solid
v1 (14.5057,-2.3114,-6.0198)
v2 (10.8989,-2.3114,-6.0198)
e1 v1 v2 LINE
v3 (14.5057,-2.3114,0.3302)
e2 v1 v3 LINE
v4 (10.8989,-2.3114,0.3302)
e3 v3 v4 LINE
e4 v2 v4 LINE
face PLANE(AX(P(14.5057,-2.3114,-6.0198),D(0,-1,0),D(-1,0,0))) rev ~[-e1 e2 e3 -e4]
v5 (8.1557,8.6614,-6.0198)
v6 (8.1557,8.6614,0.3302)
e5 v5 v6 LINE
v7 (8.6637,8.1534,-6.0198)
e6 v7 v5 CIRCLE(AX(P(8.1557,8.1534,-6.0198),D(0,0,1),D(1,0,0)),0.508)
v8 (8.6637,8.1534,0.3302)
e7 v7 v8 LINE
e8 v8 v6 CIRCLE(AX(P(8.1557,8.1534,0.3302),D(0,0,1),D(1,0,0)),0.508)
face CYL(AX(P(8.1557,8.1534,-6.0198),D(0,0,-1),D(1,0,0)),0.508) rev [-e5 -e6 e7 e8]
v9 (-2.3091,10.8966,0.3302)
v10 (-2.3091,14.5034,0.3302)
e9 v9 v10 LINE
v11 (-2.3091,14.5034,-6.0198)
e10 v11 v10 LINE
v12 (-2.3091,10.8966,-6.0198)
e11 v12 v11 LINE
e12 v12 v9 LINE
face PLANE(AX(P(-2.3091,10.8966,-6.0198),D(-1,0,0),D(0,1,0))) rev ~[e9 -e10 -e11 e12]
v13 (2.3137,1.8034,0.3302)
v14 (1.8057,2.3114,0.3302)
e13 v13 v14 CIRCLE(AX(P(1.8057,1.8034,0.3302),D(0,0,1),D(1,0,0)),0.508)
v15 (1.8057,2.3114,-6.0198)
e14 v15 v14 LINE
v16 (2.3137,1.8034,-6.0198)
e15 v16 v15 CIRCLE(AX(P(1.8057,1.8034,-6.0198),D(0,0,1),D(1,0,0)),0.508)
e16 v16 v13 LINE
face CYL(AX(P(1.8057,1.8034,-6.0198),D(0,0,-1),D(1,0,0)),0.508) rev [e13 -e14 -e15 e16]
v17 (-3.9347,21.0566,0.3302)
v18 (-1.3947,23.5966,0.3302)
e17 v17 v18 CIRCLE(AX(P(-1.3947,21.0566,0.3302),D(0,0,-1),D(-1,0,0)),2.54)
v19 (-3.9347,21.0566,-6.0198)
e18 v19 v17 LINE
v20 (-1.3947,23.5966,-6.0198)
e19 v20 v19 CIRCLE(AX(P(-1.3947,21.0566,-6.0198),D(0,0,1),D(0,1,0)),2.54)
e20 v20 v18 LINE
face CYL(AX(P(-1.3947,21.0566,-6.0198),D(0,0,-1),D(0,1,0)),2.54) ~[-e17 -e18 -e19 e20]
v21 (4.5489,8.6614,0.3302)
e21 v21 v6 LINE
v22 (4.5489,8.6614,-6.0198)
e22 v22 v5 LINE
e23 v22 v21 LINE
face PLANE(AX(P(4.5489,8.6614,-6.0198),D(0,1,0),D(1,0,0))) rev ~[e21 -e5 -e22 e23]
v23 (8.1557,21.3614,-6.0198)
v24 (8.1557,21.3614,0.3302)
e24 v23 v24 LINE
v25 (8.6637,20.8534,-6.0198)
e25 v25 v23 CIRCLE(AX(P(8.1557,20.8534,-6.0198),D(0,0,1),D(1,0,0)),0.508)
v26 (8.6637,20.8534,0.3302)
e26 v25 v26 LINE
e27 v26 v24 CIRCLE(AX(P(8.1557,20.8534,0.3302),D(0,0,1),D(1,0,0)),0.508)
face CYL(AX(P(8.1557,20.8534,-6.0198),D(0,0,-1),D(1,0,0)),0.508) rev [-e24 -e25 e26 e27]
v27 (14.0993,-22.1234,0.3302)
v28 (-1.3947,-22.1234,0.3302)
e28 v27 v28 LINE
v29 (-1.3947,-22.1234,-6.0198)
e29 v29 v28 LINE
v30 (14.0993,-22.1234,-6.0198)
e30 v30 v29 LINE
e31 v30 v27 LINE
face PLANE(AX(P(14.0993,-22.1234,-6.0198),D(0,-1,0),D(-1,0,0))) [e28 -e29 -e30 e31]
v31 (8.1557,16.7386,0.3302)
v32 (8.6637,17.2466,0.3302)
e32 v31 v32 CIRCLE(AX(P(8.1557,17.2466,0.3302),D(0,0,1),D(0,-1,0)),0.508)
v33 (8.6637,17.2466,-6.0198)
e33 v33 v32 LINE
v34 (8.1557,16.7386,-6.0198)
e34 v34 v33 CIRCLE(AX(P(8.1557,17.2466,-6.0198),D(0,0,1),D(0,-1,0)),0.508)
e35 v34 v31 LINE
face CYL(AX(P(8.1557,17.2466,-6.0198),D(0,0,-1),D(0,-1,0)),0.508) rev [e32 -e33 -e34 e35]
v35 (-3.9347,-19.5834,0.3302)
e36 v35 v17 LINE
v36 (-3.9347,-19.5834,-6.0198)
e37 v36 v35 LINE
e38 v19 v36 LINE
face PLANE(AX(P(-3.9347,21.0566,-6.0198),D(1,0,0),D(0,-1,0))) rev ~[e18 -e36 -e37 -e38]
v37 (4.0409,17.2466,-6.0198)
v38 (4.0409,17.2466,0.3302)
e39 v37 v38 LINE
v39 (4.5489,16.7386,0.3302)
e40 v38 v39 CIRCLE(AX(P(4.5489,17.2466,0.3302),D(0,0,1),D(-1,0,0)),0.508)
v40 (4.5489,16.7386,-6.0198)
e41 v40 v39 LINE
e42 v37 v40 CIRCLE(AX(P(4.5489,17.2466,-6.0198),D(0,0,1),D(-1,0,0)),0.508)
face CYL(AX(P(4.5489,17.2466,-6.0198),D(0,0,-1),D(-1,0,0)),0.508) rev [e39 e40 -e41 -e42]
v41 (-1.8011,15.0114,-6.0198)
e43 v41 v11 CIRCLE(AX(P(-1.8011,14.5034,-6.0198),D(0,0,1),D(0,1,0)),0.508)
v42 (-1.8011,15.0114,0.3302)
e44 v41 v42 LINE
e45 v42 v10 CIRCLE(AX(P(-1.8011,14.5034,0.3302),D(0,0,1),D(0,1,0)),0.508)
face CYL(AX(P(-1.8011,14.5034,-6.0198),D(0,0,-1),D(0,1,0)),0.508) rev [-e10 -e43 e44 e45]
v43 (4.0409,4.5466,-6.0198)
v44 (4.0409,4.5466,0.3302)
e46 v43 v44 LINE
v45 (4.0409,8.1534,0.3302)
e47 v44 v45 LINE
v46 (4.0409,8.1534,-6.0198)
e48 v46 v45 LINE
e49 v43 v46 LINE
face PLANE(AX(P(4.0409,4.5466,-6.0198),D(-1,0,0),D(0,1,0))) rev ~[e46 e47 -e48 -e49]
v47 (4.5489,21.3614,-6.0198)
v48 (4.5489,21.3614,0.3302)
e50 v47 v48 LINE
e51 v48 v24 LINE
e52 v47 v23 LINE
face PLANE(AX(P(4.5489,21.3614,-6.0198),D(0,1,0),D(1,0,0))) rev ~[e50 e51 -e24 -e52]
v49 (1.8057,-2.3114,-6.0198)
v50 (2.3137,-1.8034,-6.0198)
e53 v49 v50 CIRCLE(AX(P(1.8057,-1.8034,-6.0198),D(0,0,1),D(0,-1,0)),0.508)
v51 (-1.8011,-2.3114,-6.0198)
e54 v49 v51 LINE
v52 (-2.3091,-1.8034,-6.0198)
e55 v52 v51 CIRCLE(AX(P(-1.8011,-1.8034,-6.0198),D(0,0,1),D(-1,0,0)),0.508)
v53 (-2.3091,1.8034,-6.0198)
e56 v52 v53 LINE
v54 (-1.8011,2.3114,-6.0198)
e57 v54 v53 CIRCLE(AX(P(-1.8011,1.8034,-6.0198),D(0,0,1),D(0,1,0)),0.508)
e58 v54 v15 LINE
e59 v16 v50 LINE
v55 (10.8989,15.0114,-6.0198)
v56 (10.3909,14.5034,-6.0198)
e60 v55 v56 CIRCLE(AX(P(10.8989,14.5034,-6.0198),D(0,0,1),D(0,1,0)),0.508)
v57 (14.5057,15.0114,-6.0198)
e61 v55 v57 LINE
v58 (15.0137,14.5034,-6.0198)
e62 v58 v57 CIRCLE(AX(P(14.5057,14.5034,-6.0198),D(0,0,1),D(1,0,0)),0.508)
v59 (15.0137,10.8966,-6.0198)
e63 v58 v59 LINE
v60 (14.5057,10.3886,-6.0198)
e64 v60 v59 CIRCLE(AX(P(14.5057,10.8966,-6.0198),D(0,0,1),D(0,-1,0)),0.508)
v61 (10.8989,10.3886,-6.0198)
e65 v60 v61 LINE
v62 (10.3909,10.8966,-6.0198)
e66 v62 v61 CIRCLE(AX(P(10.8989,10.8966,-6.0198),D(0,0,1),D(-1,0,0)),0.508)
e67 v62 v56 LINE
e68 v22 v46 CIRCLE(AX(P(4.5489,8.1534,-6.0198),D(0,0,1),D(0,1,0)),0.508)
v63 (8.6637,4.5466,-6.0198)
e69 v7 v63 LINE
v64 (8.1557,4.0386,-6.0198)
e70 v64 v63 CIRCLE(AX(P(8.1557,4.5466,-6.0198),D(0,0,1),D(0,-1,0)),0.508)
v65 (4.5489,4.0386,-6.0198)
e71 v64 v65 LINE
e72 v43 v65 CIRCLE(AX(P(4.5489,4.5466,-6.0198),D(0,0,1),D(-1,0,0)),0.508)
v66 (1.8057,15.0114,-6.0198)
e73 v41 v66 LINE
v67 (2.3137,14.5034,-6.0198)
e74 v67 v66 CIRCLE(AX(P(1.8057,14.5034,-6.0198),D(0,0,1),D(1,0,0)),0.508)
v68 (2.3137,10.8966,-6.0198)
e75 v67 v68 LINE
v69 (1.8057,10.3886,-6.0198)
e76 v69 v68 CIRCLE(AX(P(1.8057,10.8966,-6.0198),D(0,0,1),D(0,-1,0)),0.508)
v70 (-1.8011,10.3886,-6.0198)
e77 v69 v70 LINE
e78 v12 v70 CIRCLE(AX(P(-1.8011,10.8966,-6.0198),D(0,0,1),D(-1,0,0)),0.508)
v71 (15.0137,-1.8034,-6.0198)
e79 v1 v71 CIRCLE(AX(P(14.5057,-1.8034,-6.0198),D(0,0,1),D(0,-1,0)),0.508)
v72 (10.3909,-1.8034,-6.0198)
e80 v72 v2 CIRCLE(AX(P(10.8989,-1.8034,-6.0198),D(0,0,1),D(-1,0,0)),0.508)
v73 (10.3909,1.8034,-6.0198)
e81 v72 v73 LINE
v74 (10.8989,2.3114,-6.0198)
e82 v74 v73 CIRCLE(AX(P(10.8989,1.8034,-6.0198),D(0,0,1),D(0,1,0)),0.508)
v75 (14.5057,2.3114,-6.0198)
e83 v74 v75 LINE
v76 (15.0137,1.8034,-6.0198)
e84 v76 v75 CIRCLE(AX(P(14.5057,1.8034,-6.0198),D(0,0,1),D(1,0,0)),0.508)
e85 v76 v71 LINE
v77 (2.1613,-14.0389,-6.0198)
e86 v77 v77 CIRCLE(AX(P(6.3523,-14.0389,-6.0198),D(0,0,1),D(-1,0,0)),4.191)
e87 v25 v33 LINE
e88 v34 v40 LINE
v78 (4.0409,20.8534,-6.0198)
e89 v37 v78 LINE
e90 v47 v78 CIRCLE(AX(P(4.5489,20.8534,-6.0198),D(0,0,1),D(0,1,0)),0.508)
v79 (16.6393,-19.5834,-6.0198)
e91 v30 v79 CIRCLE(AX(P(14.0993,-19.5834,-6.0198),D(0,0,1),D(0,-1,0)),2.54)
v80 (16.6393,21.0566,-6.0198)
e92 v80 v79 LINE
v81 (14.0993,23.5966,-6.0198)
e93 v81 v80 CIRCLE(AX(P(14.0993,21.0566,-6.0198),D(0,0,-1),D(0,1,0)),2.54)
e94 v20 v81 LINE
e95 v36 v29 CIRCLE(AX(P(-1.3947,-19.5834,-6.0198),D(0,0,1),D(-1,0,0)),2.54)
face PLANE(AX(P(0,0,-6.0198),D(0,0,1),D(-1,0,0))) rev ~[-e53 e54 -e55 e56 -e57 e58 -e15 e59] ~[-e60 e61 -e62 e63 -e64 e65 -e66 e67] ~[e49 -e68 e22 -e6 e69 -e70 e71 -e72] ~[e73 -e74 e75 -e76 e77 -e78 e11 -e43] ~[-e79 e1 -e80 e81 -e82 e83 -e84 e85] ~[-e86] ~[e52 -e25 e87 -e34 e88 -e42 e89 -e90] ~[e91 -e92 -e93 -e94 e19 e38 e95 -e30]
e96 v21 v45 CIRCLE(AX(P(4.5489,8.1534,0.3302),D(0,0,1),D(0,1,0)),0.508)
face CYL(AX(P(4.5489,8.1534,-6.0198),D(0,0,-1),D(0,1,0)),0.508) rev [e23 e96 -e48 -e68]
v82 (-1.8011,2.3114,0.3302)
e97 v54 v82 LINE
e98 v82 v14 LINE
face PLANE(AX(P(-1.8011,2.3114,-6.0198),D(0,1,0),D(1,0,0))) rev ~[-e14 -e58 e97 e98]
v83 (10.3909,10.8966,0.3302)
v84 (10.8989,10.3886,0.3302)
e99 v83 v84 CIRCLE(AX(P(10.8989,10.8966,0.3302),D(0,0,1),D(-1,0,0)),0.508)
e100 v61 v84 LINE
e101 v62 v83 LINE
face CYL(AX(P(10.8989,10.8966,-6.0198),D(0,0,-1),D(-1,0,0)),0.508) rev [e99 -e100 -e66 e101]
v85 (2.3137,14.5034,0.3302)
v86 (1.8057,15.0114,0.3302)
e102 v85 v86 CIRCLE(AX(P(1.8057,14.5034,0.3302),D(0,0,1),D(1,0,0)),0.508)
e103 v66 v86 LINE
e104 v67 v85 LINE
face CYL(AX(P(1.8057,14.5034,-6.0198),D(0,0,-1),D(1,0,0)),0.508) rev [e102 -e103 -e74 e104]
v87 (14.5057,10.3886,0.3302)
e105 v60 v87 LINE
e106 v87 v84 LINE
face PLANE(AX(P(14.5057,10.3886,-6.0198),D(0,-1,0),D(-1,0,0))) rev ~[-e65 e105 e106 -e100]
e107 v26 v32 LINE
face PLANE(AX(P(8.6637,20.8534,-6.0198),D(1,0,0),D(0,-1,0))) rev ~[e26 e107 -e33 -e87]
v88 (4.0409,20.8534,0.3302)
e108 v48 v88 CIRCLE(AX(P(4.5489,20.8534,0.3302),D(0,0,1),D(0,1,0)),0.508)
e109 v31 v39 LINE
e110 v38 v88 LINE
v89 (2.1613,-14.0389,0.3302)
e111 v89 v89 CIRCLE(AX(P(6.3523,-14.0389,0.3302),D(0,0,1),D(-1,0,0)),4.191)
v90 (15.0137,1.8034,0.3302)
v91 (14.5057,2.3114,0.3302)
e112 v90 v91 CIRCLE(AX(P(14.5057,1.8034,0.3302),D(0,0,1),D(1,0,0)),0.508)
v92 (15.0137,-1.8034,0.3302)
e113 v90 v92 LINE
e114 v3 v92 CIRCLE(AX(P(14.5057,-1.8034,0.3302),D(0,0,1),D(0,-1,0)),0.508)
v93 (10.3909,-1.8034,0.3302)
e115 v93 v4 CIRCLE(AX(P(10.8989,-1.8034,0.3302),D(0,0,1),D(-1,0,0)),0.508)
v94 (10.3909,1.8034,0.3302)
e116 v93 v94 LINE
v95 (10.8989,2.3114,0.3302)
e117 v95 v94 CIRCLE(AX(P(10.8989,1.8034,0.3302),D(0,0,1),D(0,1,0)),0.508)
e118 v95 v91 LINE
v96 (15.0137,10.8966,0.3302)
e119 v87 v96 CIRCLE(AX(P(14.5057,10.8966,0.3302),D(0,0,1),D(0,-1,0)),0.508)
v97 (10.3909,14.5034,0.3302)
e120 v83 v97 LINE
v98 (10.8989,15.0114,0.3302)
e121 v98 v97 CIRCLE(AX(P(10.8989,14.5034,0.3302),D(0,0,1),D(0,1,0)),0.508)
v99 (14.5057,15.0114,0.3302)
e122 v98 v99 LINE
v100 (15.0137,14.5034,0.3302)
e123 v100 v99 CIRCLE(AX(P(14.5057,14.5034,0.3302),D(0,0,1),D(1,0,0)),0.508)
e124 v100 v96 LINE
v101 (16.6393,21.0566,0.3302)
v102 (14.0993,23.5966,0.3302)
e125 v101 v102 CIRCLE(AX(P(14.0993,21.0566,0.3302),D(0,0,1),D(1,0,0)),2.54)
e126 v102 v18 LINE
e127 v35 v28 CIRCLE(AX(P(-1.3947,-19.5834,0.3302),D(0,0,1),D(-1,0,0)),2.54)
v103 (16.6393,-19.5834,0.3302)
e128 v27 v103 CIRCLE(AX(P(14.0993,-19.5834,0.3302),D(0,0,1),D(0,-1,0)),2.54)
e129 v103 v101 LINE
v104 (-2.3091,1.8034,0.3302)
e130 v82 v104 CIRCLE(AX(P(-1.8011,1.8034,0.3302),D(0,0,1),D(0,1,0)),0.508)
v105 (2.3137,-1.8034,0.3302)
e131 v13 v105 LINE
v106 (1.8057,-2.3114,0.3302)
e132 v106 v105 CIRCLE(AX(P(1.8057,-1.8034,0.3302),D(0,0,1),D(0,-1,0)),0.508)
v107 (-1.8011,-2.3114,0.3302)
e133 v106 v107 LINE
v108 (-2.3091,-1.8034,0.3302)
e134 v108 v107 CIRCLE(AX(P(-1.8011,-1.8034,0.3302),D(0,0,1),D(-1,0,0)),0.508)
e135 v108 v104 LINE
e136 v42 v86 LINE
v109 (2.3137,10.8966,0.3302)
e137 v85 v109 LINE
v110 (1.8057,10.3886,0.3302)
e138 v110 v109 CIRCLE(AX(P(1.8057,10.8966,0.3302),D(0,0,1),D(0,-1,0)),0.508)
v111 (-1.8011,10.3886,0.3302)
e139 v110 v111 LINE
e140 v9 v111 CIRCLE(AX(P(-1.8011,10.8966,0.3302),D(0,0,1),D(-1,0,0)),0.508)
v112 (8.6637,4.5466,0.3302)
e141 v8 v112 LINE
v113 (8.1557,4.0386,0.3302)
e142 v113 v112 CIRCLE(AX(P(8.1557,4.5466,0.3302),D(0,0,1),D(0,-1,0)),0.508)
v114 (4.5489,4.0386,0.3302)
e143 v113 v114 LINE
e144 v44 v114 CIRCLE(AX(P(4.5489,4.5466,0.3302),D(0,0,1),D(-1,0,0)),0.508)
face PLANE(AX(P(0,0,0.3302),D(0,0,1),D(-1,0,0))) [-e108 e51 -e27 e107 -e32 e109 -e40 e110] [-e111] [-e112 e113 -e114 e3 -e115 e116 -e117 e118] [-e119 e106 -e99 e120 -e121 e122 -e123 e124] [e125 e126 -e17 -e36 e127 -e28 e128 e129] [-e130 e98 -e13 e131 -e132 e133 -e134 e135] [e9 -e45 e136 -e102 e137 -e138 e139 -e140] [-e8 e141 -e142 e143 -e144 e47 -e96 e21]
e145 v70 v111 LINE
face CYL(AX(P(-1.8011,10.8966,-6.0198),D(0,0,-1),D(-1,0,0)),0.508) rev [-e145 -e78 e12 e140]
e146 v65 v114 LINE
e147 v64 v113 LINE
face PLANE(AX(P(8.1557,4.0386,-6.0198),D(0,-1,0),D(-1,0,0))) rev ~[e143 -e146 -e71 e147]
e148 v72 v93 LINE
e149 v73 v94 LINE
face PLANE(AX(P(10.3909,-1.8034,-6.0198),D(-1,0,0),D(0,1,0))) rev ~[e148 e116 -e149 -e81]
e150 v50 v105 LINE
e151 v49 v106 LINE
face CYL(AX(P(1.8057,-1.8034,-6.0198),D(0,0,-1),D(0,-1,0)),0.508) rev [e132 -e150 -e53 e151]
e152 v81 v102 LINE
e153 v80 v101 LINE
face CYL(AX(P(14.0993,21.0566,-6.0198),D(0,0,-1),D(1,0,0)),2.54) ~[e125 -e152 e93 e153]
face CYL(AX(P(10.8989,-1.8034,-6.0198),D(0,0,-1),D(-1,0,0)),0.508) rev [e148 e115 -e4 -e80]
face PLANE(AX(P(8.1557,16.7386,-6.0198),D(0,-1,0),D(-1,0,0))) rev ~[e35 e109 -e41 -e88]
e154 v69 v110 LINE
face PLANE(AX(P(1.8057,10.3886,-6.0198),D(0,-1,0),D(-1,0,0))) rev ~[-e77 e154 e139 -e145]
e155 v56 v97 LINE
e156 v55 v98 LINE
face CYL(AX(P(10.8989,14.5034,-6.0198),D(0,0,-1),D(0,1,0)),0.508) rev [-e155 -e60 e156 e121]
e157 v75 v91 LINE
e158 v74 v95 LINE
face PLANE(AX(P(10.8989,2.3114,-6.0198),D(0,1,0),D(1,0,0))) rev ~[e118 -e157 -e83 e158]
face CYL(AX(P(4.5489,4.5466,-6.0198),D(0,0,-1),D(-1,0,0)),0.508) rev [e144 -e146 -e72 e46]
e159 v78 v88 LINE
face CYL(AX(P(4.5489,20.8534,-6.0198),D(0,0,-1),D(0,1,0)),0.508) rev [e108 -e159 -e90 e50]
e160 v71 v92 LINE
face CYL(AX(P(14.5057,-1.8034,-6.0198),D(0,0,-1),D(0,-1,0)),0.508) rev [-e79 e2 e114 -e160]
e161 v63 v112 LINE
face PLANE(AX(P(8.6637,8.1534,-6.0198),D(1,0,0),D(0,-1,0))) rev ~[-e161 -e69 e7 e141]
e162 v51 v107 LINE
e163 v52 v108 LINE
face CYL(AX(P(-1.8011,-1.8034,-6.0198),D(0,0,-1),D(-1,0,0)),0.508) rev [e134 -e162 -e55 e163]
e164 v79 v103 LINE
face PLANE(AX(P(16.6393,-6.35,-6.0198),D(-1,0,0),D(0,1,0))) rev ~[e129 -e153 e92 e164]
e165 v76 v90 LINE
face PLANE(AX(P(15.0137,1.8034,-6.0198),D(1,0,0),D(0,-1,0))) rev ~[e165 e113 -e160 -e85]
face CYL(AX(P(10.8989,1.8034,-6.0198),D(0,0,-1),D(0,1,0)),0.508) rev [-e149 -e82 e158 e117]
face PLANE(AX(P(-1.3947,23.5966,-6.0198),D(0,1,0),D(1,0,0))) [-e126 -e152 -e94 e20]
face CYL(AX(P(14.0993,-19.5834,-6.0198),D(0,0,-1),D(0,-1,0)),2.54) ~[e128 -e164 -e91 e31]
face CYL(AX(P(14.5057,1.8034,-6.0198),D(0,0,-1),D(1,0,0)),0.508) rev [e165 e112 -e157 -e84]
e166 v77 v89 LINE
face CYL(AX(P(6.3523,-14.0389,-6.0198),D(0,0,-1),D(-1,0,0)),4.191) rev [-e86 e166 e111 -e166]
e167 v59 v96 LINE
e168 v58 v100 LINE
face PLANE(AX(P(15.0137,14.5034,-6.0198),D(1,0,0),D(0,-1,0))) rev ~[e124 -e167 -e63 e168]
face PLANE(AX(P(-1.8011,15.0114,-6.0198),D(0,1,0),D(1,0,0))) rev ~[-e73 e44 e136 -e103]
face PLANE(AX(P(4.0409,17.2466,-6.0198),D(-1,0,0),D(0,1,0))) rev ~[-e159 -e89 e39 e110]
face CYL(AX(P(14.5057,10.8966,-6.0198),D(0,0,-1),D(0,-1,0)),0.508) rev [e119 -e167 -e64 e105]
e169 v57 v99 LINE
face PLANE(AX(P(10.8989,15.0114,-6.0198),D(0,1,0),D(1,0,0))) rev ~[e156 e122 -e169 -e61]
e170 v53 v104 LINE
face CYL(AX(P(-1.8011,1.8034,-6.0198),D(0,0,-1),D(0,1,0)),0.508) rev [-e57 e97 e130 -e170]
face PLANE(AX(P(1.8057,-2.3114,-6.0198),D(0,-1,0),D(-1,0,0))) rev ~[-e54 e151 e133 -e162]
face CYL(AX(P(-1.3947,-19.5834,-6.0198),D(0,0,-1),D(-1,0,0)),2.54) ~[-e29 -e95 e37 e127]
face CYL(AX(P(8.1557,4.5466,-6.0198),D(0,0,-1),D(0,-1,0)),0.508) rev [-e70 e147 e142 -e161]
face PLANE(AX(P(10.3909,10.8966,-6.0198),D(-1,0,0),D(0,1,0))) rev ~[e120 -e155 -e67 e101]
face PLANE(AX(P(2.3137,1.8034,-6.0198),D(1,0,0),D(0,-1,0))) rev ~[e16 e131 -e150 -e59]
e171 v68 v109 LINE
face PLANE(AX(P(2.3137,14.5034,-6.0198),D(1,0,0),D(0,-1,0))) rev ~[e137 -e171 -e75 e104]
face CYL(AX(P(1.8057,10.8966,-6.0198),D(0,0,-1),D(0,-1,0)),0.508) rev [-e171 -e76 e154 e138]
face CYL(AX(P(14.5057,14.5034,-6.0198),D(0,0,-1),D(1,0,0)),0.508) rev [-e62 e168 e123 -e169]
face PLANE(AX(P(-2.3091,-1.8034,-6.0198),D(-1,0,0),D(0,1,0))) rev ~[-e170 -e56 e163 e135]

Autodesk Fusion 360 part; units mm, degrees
sketch "Sketch1" plane through (0, 0, -6.0198) normal (0, 0, 1) x (-1, 0, 0)
  line L0 (-4.0409, -44.45) -> (3.9347, -44.45)
  line L1 (3.9347, -44.45) -> (3.9347, 6.35)
  line L2 (3.9347, 6.35) -> (-16.6393, 6.35)
  line L3 (-16.6393, 6.35) -> (-16.6393, -44.45)
  line L4 (-16.6393, -44.45) -> (-8.6637, -44.45)
  line L5 (-8.6637, -44.45) -> (-8.6637, -42.6466)
  arc A0 (-8.1557, -42.1386) -> (-8.6637, -42.6466) centre (-8.1557, -42.6466) ccw
  line L6 (-8.1557, -42.1386) -> (-4.5489, -42.1386)
  arc A1 (-4.0409, -42.6466) -> (-4.5489, -42.1386) centre (-4.5489, -42.6466) ccw
  line L7 (-4.0409, -42.6466) -> (-4.0409, -44.45)
  arc A2 (-8.1557, -29.4386) -> (-8.6637, -29.9466) centre (-8.1557, -29.9466) ccw
  line L8 (-8.1557, -29.4386) -> (-4.5489, -29.4386)
  arc A3 (-4.0409, -29.9466) -> (-4.5489, -29.4386) centre (-4.5489, -29.9466) ccw
  line L9 (-4.0409, -29.9466) -> (-4.0409, -33.5534)
  arc A4 (-4.5489, -34.0614) -> (-4.0409, -33.5534) centre (-4.5489, -33.5534) ccw
  line L10 (-4.5489, -34.0614) -> (-8.1557, -34.0614)
  arc A5 (-8.6637, -33.5534) -> (-8.1557, -34.0614) centre (-8.1557, -33.5534) ccw
  line L11 (-8.6637, -33.5534) -> (-8.6637, -29.9466)
  arc A6 (1.8011, -40.4114) -> (2.3091, -39.9034) centre (1.8011, -39.9034) ccw
  line L12 (1.8011, -40.4114) -> (-1.8057, -40.4114)
  arc A7 (-2.3137, -39.9034) -> (-1.8057, -40.4114) centre (-1.8057, -39.9034) ccw
  line L13 (-2.3137, -39.9034) -> (-2.3137, -36.2966)
  arc A8 (-1.8057, -35.7886) -> (-2.3137, -36.2966) centre (-1.8057, -36.2966) ccw
  line L14 (-1.8057, -35.7886) -> (1.8011, -35.7886)
  arc A9 (2.3091, -36.2966) -> (1.8011, -35.7886) centre (1.8011, -36.2966) ccw
  line L15 (2.3091, -36.2966) -> (2.3091, -39.9034)
  arc A10 (1.8011, -27.7114) -> (2.3091, -27.2034) centre (1.8011, -27.2034) ccw
  line L16 (1.8011, -27.7114) -> (-1.8057, -27.7114)
  arc A11 (-2.3137, -27.2034) -> (-1.8057, -27.7114) centre (-1.8057, -27.2034) ccw
  line L17 (-2.3137, -27.2034) -> (-2.3137, -23.5966)
  arc A12 (-1.8057, -23.0886) -> (-2.3137, -23.5966) centre (-1.8057, -23.5966) ccw
  line L18 (-1.8057, -23.0886) -> (1.8011, -23.0886)
  arc A13 (2.3091, -23.5966) -> (1.8011, -23.0886) centre (1.8011, -23.5966) ccw
  line L19 (2.3091, -23.5966) -> (2.3091, -27.2034)
  arc A14 (1.8011, -15.0114) -> (2.3091, -14.5034) centre (1.8011, -14.5034) ccw
  line L20 (1.8011, -15.0114) -> (-1.8057, -15.0114)
  arc A15 (-2.3137, -14.5034) -> (-1.8057, -15.0114) centre (-1.8057, -14.5034) ccw
  line L21 (-2.3137, -14.5034) -> (-2.3137, -10.8966)
  arc A16 (-1.8057, -10.3886) -> (-2.3137, -10.8966) centre (-1.8057, -10.8966) ccw
  line L22 (-1.8057, -10.3886) -> (1.8011, -10.3886)
  arc A17 (2.3091, -10.8966) -> (1.8011, -10.3886) centre (1.8011, -10.8966) ccw
  line L23 (2.3091, -10.8966) -> (2.3091, -14.5034)
  arc A18 (1.8011, -2.3114) -> (2.3091, -1.8034) centre (1.8011, -1.8034) ccw
  line L24 (1.8011, -2.3114) -> (-1.8057, -2.3114)
  arc A19 (-2.3137, -1.8034) -> (-1.8057, -2.3114) centre (-1.8057, -1.8034) ccw
  line L25 (-2.3137, -1.8034) -> (-2.3137, 1.8034)
  arc A20 (-1.8057, 2.3114) -> (-2.3137, 1.8034) centre (-1.8057, 1.8034) ccw
  line L26 (-1.8057, 2.3114) -> (1.8011, 2.3114)
  arc A21 (2.3091, 1.8034) -> (1.8011, 2.3114) centre (1.8011, 1.8034) ccw
  line L27 (2.3091, 1.8034) -> (2.3091, -1.8034)
  arc A22 (-10.8989, -40.4114) -> (-10.3909, -39.9034) centre (-10.8989, -39.9034) ccw
  line L28 (-10.8989, -40.4114) -> (-14.5057, -40.4114)
  arc A23 (-15.0137, -39.9034) -> (-14.5057, -40.4114) centre (-14.5057, -39.9034) ccw
  line L29 (-15.0137, -39.9034) -> (-15.0137, -36.2966)
  arc A24 (-14.5057, -35.7886) -> (-15.0137, -36.2966) centre (-14.5057, -36.2966) ccw
  line L30 (-14.5057, -35.7886) -> (-10.8989, -35.7886)
  arc A25 (-10.3909, -36.2966) -> (-10.8989, -35.7886) centre (-10.8989, -36.2966) ccw
  line L31 (-10.3909, -36.2966) -> (-10.3909, -39.9034)
  arc A26 (-10.8989, -27.7114) -> (-10.3909, -27.2034) centre (-10.8989, -27.2034) ccw
  line L32 (-10.8989, -27.7114) -> (-14.5057, -27.7114)
  arc A27 (-15.0137, -27.2034) -> (-14.5057, -27.7114) centre (-14.5057, -27.2034) ccw
  line L33 (-15.0137, -27.2034) -> (-15.0137, -23.5966)
  arc A28 (-14.5057, -23.0886) -> (-15.0137, -23.5966) centre (-14.5057, -23.5966) ccw
  line L34 (-14.5057, -23.0886) -> (-10.8989, -23.0886)
  arc A29 (-10.3909, -23.5966) -> (-10.8989, -23.0886) centre (-10.8989, -23.5966) ccw
  line L35 (-10.3909, -23.5966) -> (-10.3909, -27.2034)
  arc A30 (-10.8989, -15.0114) -> (-10.3909, -14.5034) centre (-10.8989, -14.5034) ccw
  line L36 (-10.8989, -15.0114) -> (-14.5057, -15.0114)
  arc A31 (-15.0137, -14.5034) -> (-14.5057, -15.0114) centre (-14.5057, -14.5034) ccw
  line L37 (-15.0137, -14.5034) -> (-15.0137, -10.8966)
  arc A32 (-14.5057, -10.3886) -> (-15.0137, -10.8966) centre (-14.5057, -10.8966) ccw
  line L38 (-14.5057, -10.3886) -> (-10.8989, -10.3886)
  arc A33 (-10.3909, -10.8966) -> (-10.8989, -10.3886) centre (-10.8989, -10.8966) ccw
  line L39 (-10.3909, -10.8966) -> (-10.3909, -14.5034)
  arc A34 (-10.8989, -2.3114) -> (-10.3909, -1.8034) centre (-10.8989, -1.8034) ccw
  line L40 (-10.8989, -2.3114) -> (-14.5057, -2.3114)
  arc A35 (-15.0137, -1.8034) -> (-14.5057, -2.3114) centre (-14.5057, -1.8034) ccw
  line L41 (-15.0137, -1.8034) -> (-15.0137, 1.8034)
  arc A36 (-14.5057, 2.3114) -> (-15.0137, 1.8034) centre (-14.5057, 1.8034) ccw
  line L42 (-14.5057, 2.3114) -> (-10.8989, 2.3114)
  arc A37 (-10.3909, 1.8034) -> (-10.8989, 2.3114) centre (-10.8989, 1.8034) ccw
  line L43 (-10.3909, 1.8034) -> (-10.3909, -1.8034)
  arc A38 (-8.6637, -8.1534) -> (-8.1557, -8.6614) centre (-8.1557, -8.1534) ccw
  line L44 (-8.6637, -8.1534) -> (-8.6637, -4.5466)
  arc A39 (-8.1557, -4.0386) -> (-8.6637, -4.5466) centre (-8.1557, -4.5466) ccw
  line L45 (-8.1557, -4.0386) -> (-4.5489, -4.0386)
  arc A40 (-4.0409, -4.5466) -> (-4.5489, -4.0386) centre (-4.5489, -4.5466) ccw
  line L46 (-4.0409, -4.5466) -> (-4.0409, -8.1534)
  arc A41 (-4.5489, -8.6614) -> (-4.0409, -8.1534) centre (-4.5489, -8.1534) ccw
  line L47 (-4.5489, -8.6614) -> (-8.1557, -8.6614)
  arc A42 (-8.1557, -16.7386) -> (-8.6637, -17.2466) centre (-8.1557, -17.2466) ccw
  line L48 (-8.1557, -16.7386) -> (-4.5489, -16.7386)
  arc A43 (-4.0409, -17.2466) -> (-4.5489, -16.7386) centre (-4.5489, -17.2466) ccw
  line L49 (-4.0409, -17.2466) -> (-4.0409, -20.8534)
  arc A44 (-4.5489, -21.3614) -> (-4.0409, -20.8534) centre (-4.5489, -20.8534) ccw
  line L50 (-4.5489, -21.3614) -> (-8.1557, -21.3614)
  arc A45 (-8.6637, -20.8534) -> (-8.1557, -21.3614) centre (-8.1557, -20.8534) ccw
  line L51 (-8.6637, -20.8534) -> (-8.6637, -17.2466)
  line L52 (1.3947, -23.5966) -> (-14.0993, -23.5966)
  line L53 (-16.6393, -21.0566) -> (-16.6393, 19.5834)
  line L54 (-14.0993, 22.1234) -> (1.3947, 22.1234)
  line L55 (3.9347, 19.5834) -> (3.9347, -21.0566)
  arc A46 (1.3947, -23.5966) -> (3.9347, -21.0566) centre (1.3947, -21.0566) ccw
  arc A47 (-16.6393, -21.0566) -> (-14.0993, -23.5966) centre (-14.0993, -21.0566) ccw
  arc A48 (-14.0993, 22.1234) -> (-16.6393, 19.5834) centre (-14.0993, 19.5834) ccw
  arc A49 (3.9347, 19.5834) -> (1.3947, 22.1234) centre (1.3947, 19.5834) ccw
  circle A50 centre (-6.3523, 14.0389) radius 4.191
  point P0 (3.9347, -23.5966)
  point P1 (-16.6393, -23.5966)
  point P2 (3.9347, 22.1234)
  dimension "d1" = 20.574
  dimension "d2" = 45.72
  dimension "d3" = 2.54
  dimension "d4" = 8.382
extrude "Extrude1" add sketch "Sketch1" along normal blind 6.35 contours L1 L2 L3 A12 L18 A13 A28 L34 A29 L52 L53 L55 A46 A47 | L2 L53 L54 L55 A48 A49 | A12 L18 A13 L52 A46 | A28 L34 A29 L52 A47
